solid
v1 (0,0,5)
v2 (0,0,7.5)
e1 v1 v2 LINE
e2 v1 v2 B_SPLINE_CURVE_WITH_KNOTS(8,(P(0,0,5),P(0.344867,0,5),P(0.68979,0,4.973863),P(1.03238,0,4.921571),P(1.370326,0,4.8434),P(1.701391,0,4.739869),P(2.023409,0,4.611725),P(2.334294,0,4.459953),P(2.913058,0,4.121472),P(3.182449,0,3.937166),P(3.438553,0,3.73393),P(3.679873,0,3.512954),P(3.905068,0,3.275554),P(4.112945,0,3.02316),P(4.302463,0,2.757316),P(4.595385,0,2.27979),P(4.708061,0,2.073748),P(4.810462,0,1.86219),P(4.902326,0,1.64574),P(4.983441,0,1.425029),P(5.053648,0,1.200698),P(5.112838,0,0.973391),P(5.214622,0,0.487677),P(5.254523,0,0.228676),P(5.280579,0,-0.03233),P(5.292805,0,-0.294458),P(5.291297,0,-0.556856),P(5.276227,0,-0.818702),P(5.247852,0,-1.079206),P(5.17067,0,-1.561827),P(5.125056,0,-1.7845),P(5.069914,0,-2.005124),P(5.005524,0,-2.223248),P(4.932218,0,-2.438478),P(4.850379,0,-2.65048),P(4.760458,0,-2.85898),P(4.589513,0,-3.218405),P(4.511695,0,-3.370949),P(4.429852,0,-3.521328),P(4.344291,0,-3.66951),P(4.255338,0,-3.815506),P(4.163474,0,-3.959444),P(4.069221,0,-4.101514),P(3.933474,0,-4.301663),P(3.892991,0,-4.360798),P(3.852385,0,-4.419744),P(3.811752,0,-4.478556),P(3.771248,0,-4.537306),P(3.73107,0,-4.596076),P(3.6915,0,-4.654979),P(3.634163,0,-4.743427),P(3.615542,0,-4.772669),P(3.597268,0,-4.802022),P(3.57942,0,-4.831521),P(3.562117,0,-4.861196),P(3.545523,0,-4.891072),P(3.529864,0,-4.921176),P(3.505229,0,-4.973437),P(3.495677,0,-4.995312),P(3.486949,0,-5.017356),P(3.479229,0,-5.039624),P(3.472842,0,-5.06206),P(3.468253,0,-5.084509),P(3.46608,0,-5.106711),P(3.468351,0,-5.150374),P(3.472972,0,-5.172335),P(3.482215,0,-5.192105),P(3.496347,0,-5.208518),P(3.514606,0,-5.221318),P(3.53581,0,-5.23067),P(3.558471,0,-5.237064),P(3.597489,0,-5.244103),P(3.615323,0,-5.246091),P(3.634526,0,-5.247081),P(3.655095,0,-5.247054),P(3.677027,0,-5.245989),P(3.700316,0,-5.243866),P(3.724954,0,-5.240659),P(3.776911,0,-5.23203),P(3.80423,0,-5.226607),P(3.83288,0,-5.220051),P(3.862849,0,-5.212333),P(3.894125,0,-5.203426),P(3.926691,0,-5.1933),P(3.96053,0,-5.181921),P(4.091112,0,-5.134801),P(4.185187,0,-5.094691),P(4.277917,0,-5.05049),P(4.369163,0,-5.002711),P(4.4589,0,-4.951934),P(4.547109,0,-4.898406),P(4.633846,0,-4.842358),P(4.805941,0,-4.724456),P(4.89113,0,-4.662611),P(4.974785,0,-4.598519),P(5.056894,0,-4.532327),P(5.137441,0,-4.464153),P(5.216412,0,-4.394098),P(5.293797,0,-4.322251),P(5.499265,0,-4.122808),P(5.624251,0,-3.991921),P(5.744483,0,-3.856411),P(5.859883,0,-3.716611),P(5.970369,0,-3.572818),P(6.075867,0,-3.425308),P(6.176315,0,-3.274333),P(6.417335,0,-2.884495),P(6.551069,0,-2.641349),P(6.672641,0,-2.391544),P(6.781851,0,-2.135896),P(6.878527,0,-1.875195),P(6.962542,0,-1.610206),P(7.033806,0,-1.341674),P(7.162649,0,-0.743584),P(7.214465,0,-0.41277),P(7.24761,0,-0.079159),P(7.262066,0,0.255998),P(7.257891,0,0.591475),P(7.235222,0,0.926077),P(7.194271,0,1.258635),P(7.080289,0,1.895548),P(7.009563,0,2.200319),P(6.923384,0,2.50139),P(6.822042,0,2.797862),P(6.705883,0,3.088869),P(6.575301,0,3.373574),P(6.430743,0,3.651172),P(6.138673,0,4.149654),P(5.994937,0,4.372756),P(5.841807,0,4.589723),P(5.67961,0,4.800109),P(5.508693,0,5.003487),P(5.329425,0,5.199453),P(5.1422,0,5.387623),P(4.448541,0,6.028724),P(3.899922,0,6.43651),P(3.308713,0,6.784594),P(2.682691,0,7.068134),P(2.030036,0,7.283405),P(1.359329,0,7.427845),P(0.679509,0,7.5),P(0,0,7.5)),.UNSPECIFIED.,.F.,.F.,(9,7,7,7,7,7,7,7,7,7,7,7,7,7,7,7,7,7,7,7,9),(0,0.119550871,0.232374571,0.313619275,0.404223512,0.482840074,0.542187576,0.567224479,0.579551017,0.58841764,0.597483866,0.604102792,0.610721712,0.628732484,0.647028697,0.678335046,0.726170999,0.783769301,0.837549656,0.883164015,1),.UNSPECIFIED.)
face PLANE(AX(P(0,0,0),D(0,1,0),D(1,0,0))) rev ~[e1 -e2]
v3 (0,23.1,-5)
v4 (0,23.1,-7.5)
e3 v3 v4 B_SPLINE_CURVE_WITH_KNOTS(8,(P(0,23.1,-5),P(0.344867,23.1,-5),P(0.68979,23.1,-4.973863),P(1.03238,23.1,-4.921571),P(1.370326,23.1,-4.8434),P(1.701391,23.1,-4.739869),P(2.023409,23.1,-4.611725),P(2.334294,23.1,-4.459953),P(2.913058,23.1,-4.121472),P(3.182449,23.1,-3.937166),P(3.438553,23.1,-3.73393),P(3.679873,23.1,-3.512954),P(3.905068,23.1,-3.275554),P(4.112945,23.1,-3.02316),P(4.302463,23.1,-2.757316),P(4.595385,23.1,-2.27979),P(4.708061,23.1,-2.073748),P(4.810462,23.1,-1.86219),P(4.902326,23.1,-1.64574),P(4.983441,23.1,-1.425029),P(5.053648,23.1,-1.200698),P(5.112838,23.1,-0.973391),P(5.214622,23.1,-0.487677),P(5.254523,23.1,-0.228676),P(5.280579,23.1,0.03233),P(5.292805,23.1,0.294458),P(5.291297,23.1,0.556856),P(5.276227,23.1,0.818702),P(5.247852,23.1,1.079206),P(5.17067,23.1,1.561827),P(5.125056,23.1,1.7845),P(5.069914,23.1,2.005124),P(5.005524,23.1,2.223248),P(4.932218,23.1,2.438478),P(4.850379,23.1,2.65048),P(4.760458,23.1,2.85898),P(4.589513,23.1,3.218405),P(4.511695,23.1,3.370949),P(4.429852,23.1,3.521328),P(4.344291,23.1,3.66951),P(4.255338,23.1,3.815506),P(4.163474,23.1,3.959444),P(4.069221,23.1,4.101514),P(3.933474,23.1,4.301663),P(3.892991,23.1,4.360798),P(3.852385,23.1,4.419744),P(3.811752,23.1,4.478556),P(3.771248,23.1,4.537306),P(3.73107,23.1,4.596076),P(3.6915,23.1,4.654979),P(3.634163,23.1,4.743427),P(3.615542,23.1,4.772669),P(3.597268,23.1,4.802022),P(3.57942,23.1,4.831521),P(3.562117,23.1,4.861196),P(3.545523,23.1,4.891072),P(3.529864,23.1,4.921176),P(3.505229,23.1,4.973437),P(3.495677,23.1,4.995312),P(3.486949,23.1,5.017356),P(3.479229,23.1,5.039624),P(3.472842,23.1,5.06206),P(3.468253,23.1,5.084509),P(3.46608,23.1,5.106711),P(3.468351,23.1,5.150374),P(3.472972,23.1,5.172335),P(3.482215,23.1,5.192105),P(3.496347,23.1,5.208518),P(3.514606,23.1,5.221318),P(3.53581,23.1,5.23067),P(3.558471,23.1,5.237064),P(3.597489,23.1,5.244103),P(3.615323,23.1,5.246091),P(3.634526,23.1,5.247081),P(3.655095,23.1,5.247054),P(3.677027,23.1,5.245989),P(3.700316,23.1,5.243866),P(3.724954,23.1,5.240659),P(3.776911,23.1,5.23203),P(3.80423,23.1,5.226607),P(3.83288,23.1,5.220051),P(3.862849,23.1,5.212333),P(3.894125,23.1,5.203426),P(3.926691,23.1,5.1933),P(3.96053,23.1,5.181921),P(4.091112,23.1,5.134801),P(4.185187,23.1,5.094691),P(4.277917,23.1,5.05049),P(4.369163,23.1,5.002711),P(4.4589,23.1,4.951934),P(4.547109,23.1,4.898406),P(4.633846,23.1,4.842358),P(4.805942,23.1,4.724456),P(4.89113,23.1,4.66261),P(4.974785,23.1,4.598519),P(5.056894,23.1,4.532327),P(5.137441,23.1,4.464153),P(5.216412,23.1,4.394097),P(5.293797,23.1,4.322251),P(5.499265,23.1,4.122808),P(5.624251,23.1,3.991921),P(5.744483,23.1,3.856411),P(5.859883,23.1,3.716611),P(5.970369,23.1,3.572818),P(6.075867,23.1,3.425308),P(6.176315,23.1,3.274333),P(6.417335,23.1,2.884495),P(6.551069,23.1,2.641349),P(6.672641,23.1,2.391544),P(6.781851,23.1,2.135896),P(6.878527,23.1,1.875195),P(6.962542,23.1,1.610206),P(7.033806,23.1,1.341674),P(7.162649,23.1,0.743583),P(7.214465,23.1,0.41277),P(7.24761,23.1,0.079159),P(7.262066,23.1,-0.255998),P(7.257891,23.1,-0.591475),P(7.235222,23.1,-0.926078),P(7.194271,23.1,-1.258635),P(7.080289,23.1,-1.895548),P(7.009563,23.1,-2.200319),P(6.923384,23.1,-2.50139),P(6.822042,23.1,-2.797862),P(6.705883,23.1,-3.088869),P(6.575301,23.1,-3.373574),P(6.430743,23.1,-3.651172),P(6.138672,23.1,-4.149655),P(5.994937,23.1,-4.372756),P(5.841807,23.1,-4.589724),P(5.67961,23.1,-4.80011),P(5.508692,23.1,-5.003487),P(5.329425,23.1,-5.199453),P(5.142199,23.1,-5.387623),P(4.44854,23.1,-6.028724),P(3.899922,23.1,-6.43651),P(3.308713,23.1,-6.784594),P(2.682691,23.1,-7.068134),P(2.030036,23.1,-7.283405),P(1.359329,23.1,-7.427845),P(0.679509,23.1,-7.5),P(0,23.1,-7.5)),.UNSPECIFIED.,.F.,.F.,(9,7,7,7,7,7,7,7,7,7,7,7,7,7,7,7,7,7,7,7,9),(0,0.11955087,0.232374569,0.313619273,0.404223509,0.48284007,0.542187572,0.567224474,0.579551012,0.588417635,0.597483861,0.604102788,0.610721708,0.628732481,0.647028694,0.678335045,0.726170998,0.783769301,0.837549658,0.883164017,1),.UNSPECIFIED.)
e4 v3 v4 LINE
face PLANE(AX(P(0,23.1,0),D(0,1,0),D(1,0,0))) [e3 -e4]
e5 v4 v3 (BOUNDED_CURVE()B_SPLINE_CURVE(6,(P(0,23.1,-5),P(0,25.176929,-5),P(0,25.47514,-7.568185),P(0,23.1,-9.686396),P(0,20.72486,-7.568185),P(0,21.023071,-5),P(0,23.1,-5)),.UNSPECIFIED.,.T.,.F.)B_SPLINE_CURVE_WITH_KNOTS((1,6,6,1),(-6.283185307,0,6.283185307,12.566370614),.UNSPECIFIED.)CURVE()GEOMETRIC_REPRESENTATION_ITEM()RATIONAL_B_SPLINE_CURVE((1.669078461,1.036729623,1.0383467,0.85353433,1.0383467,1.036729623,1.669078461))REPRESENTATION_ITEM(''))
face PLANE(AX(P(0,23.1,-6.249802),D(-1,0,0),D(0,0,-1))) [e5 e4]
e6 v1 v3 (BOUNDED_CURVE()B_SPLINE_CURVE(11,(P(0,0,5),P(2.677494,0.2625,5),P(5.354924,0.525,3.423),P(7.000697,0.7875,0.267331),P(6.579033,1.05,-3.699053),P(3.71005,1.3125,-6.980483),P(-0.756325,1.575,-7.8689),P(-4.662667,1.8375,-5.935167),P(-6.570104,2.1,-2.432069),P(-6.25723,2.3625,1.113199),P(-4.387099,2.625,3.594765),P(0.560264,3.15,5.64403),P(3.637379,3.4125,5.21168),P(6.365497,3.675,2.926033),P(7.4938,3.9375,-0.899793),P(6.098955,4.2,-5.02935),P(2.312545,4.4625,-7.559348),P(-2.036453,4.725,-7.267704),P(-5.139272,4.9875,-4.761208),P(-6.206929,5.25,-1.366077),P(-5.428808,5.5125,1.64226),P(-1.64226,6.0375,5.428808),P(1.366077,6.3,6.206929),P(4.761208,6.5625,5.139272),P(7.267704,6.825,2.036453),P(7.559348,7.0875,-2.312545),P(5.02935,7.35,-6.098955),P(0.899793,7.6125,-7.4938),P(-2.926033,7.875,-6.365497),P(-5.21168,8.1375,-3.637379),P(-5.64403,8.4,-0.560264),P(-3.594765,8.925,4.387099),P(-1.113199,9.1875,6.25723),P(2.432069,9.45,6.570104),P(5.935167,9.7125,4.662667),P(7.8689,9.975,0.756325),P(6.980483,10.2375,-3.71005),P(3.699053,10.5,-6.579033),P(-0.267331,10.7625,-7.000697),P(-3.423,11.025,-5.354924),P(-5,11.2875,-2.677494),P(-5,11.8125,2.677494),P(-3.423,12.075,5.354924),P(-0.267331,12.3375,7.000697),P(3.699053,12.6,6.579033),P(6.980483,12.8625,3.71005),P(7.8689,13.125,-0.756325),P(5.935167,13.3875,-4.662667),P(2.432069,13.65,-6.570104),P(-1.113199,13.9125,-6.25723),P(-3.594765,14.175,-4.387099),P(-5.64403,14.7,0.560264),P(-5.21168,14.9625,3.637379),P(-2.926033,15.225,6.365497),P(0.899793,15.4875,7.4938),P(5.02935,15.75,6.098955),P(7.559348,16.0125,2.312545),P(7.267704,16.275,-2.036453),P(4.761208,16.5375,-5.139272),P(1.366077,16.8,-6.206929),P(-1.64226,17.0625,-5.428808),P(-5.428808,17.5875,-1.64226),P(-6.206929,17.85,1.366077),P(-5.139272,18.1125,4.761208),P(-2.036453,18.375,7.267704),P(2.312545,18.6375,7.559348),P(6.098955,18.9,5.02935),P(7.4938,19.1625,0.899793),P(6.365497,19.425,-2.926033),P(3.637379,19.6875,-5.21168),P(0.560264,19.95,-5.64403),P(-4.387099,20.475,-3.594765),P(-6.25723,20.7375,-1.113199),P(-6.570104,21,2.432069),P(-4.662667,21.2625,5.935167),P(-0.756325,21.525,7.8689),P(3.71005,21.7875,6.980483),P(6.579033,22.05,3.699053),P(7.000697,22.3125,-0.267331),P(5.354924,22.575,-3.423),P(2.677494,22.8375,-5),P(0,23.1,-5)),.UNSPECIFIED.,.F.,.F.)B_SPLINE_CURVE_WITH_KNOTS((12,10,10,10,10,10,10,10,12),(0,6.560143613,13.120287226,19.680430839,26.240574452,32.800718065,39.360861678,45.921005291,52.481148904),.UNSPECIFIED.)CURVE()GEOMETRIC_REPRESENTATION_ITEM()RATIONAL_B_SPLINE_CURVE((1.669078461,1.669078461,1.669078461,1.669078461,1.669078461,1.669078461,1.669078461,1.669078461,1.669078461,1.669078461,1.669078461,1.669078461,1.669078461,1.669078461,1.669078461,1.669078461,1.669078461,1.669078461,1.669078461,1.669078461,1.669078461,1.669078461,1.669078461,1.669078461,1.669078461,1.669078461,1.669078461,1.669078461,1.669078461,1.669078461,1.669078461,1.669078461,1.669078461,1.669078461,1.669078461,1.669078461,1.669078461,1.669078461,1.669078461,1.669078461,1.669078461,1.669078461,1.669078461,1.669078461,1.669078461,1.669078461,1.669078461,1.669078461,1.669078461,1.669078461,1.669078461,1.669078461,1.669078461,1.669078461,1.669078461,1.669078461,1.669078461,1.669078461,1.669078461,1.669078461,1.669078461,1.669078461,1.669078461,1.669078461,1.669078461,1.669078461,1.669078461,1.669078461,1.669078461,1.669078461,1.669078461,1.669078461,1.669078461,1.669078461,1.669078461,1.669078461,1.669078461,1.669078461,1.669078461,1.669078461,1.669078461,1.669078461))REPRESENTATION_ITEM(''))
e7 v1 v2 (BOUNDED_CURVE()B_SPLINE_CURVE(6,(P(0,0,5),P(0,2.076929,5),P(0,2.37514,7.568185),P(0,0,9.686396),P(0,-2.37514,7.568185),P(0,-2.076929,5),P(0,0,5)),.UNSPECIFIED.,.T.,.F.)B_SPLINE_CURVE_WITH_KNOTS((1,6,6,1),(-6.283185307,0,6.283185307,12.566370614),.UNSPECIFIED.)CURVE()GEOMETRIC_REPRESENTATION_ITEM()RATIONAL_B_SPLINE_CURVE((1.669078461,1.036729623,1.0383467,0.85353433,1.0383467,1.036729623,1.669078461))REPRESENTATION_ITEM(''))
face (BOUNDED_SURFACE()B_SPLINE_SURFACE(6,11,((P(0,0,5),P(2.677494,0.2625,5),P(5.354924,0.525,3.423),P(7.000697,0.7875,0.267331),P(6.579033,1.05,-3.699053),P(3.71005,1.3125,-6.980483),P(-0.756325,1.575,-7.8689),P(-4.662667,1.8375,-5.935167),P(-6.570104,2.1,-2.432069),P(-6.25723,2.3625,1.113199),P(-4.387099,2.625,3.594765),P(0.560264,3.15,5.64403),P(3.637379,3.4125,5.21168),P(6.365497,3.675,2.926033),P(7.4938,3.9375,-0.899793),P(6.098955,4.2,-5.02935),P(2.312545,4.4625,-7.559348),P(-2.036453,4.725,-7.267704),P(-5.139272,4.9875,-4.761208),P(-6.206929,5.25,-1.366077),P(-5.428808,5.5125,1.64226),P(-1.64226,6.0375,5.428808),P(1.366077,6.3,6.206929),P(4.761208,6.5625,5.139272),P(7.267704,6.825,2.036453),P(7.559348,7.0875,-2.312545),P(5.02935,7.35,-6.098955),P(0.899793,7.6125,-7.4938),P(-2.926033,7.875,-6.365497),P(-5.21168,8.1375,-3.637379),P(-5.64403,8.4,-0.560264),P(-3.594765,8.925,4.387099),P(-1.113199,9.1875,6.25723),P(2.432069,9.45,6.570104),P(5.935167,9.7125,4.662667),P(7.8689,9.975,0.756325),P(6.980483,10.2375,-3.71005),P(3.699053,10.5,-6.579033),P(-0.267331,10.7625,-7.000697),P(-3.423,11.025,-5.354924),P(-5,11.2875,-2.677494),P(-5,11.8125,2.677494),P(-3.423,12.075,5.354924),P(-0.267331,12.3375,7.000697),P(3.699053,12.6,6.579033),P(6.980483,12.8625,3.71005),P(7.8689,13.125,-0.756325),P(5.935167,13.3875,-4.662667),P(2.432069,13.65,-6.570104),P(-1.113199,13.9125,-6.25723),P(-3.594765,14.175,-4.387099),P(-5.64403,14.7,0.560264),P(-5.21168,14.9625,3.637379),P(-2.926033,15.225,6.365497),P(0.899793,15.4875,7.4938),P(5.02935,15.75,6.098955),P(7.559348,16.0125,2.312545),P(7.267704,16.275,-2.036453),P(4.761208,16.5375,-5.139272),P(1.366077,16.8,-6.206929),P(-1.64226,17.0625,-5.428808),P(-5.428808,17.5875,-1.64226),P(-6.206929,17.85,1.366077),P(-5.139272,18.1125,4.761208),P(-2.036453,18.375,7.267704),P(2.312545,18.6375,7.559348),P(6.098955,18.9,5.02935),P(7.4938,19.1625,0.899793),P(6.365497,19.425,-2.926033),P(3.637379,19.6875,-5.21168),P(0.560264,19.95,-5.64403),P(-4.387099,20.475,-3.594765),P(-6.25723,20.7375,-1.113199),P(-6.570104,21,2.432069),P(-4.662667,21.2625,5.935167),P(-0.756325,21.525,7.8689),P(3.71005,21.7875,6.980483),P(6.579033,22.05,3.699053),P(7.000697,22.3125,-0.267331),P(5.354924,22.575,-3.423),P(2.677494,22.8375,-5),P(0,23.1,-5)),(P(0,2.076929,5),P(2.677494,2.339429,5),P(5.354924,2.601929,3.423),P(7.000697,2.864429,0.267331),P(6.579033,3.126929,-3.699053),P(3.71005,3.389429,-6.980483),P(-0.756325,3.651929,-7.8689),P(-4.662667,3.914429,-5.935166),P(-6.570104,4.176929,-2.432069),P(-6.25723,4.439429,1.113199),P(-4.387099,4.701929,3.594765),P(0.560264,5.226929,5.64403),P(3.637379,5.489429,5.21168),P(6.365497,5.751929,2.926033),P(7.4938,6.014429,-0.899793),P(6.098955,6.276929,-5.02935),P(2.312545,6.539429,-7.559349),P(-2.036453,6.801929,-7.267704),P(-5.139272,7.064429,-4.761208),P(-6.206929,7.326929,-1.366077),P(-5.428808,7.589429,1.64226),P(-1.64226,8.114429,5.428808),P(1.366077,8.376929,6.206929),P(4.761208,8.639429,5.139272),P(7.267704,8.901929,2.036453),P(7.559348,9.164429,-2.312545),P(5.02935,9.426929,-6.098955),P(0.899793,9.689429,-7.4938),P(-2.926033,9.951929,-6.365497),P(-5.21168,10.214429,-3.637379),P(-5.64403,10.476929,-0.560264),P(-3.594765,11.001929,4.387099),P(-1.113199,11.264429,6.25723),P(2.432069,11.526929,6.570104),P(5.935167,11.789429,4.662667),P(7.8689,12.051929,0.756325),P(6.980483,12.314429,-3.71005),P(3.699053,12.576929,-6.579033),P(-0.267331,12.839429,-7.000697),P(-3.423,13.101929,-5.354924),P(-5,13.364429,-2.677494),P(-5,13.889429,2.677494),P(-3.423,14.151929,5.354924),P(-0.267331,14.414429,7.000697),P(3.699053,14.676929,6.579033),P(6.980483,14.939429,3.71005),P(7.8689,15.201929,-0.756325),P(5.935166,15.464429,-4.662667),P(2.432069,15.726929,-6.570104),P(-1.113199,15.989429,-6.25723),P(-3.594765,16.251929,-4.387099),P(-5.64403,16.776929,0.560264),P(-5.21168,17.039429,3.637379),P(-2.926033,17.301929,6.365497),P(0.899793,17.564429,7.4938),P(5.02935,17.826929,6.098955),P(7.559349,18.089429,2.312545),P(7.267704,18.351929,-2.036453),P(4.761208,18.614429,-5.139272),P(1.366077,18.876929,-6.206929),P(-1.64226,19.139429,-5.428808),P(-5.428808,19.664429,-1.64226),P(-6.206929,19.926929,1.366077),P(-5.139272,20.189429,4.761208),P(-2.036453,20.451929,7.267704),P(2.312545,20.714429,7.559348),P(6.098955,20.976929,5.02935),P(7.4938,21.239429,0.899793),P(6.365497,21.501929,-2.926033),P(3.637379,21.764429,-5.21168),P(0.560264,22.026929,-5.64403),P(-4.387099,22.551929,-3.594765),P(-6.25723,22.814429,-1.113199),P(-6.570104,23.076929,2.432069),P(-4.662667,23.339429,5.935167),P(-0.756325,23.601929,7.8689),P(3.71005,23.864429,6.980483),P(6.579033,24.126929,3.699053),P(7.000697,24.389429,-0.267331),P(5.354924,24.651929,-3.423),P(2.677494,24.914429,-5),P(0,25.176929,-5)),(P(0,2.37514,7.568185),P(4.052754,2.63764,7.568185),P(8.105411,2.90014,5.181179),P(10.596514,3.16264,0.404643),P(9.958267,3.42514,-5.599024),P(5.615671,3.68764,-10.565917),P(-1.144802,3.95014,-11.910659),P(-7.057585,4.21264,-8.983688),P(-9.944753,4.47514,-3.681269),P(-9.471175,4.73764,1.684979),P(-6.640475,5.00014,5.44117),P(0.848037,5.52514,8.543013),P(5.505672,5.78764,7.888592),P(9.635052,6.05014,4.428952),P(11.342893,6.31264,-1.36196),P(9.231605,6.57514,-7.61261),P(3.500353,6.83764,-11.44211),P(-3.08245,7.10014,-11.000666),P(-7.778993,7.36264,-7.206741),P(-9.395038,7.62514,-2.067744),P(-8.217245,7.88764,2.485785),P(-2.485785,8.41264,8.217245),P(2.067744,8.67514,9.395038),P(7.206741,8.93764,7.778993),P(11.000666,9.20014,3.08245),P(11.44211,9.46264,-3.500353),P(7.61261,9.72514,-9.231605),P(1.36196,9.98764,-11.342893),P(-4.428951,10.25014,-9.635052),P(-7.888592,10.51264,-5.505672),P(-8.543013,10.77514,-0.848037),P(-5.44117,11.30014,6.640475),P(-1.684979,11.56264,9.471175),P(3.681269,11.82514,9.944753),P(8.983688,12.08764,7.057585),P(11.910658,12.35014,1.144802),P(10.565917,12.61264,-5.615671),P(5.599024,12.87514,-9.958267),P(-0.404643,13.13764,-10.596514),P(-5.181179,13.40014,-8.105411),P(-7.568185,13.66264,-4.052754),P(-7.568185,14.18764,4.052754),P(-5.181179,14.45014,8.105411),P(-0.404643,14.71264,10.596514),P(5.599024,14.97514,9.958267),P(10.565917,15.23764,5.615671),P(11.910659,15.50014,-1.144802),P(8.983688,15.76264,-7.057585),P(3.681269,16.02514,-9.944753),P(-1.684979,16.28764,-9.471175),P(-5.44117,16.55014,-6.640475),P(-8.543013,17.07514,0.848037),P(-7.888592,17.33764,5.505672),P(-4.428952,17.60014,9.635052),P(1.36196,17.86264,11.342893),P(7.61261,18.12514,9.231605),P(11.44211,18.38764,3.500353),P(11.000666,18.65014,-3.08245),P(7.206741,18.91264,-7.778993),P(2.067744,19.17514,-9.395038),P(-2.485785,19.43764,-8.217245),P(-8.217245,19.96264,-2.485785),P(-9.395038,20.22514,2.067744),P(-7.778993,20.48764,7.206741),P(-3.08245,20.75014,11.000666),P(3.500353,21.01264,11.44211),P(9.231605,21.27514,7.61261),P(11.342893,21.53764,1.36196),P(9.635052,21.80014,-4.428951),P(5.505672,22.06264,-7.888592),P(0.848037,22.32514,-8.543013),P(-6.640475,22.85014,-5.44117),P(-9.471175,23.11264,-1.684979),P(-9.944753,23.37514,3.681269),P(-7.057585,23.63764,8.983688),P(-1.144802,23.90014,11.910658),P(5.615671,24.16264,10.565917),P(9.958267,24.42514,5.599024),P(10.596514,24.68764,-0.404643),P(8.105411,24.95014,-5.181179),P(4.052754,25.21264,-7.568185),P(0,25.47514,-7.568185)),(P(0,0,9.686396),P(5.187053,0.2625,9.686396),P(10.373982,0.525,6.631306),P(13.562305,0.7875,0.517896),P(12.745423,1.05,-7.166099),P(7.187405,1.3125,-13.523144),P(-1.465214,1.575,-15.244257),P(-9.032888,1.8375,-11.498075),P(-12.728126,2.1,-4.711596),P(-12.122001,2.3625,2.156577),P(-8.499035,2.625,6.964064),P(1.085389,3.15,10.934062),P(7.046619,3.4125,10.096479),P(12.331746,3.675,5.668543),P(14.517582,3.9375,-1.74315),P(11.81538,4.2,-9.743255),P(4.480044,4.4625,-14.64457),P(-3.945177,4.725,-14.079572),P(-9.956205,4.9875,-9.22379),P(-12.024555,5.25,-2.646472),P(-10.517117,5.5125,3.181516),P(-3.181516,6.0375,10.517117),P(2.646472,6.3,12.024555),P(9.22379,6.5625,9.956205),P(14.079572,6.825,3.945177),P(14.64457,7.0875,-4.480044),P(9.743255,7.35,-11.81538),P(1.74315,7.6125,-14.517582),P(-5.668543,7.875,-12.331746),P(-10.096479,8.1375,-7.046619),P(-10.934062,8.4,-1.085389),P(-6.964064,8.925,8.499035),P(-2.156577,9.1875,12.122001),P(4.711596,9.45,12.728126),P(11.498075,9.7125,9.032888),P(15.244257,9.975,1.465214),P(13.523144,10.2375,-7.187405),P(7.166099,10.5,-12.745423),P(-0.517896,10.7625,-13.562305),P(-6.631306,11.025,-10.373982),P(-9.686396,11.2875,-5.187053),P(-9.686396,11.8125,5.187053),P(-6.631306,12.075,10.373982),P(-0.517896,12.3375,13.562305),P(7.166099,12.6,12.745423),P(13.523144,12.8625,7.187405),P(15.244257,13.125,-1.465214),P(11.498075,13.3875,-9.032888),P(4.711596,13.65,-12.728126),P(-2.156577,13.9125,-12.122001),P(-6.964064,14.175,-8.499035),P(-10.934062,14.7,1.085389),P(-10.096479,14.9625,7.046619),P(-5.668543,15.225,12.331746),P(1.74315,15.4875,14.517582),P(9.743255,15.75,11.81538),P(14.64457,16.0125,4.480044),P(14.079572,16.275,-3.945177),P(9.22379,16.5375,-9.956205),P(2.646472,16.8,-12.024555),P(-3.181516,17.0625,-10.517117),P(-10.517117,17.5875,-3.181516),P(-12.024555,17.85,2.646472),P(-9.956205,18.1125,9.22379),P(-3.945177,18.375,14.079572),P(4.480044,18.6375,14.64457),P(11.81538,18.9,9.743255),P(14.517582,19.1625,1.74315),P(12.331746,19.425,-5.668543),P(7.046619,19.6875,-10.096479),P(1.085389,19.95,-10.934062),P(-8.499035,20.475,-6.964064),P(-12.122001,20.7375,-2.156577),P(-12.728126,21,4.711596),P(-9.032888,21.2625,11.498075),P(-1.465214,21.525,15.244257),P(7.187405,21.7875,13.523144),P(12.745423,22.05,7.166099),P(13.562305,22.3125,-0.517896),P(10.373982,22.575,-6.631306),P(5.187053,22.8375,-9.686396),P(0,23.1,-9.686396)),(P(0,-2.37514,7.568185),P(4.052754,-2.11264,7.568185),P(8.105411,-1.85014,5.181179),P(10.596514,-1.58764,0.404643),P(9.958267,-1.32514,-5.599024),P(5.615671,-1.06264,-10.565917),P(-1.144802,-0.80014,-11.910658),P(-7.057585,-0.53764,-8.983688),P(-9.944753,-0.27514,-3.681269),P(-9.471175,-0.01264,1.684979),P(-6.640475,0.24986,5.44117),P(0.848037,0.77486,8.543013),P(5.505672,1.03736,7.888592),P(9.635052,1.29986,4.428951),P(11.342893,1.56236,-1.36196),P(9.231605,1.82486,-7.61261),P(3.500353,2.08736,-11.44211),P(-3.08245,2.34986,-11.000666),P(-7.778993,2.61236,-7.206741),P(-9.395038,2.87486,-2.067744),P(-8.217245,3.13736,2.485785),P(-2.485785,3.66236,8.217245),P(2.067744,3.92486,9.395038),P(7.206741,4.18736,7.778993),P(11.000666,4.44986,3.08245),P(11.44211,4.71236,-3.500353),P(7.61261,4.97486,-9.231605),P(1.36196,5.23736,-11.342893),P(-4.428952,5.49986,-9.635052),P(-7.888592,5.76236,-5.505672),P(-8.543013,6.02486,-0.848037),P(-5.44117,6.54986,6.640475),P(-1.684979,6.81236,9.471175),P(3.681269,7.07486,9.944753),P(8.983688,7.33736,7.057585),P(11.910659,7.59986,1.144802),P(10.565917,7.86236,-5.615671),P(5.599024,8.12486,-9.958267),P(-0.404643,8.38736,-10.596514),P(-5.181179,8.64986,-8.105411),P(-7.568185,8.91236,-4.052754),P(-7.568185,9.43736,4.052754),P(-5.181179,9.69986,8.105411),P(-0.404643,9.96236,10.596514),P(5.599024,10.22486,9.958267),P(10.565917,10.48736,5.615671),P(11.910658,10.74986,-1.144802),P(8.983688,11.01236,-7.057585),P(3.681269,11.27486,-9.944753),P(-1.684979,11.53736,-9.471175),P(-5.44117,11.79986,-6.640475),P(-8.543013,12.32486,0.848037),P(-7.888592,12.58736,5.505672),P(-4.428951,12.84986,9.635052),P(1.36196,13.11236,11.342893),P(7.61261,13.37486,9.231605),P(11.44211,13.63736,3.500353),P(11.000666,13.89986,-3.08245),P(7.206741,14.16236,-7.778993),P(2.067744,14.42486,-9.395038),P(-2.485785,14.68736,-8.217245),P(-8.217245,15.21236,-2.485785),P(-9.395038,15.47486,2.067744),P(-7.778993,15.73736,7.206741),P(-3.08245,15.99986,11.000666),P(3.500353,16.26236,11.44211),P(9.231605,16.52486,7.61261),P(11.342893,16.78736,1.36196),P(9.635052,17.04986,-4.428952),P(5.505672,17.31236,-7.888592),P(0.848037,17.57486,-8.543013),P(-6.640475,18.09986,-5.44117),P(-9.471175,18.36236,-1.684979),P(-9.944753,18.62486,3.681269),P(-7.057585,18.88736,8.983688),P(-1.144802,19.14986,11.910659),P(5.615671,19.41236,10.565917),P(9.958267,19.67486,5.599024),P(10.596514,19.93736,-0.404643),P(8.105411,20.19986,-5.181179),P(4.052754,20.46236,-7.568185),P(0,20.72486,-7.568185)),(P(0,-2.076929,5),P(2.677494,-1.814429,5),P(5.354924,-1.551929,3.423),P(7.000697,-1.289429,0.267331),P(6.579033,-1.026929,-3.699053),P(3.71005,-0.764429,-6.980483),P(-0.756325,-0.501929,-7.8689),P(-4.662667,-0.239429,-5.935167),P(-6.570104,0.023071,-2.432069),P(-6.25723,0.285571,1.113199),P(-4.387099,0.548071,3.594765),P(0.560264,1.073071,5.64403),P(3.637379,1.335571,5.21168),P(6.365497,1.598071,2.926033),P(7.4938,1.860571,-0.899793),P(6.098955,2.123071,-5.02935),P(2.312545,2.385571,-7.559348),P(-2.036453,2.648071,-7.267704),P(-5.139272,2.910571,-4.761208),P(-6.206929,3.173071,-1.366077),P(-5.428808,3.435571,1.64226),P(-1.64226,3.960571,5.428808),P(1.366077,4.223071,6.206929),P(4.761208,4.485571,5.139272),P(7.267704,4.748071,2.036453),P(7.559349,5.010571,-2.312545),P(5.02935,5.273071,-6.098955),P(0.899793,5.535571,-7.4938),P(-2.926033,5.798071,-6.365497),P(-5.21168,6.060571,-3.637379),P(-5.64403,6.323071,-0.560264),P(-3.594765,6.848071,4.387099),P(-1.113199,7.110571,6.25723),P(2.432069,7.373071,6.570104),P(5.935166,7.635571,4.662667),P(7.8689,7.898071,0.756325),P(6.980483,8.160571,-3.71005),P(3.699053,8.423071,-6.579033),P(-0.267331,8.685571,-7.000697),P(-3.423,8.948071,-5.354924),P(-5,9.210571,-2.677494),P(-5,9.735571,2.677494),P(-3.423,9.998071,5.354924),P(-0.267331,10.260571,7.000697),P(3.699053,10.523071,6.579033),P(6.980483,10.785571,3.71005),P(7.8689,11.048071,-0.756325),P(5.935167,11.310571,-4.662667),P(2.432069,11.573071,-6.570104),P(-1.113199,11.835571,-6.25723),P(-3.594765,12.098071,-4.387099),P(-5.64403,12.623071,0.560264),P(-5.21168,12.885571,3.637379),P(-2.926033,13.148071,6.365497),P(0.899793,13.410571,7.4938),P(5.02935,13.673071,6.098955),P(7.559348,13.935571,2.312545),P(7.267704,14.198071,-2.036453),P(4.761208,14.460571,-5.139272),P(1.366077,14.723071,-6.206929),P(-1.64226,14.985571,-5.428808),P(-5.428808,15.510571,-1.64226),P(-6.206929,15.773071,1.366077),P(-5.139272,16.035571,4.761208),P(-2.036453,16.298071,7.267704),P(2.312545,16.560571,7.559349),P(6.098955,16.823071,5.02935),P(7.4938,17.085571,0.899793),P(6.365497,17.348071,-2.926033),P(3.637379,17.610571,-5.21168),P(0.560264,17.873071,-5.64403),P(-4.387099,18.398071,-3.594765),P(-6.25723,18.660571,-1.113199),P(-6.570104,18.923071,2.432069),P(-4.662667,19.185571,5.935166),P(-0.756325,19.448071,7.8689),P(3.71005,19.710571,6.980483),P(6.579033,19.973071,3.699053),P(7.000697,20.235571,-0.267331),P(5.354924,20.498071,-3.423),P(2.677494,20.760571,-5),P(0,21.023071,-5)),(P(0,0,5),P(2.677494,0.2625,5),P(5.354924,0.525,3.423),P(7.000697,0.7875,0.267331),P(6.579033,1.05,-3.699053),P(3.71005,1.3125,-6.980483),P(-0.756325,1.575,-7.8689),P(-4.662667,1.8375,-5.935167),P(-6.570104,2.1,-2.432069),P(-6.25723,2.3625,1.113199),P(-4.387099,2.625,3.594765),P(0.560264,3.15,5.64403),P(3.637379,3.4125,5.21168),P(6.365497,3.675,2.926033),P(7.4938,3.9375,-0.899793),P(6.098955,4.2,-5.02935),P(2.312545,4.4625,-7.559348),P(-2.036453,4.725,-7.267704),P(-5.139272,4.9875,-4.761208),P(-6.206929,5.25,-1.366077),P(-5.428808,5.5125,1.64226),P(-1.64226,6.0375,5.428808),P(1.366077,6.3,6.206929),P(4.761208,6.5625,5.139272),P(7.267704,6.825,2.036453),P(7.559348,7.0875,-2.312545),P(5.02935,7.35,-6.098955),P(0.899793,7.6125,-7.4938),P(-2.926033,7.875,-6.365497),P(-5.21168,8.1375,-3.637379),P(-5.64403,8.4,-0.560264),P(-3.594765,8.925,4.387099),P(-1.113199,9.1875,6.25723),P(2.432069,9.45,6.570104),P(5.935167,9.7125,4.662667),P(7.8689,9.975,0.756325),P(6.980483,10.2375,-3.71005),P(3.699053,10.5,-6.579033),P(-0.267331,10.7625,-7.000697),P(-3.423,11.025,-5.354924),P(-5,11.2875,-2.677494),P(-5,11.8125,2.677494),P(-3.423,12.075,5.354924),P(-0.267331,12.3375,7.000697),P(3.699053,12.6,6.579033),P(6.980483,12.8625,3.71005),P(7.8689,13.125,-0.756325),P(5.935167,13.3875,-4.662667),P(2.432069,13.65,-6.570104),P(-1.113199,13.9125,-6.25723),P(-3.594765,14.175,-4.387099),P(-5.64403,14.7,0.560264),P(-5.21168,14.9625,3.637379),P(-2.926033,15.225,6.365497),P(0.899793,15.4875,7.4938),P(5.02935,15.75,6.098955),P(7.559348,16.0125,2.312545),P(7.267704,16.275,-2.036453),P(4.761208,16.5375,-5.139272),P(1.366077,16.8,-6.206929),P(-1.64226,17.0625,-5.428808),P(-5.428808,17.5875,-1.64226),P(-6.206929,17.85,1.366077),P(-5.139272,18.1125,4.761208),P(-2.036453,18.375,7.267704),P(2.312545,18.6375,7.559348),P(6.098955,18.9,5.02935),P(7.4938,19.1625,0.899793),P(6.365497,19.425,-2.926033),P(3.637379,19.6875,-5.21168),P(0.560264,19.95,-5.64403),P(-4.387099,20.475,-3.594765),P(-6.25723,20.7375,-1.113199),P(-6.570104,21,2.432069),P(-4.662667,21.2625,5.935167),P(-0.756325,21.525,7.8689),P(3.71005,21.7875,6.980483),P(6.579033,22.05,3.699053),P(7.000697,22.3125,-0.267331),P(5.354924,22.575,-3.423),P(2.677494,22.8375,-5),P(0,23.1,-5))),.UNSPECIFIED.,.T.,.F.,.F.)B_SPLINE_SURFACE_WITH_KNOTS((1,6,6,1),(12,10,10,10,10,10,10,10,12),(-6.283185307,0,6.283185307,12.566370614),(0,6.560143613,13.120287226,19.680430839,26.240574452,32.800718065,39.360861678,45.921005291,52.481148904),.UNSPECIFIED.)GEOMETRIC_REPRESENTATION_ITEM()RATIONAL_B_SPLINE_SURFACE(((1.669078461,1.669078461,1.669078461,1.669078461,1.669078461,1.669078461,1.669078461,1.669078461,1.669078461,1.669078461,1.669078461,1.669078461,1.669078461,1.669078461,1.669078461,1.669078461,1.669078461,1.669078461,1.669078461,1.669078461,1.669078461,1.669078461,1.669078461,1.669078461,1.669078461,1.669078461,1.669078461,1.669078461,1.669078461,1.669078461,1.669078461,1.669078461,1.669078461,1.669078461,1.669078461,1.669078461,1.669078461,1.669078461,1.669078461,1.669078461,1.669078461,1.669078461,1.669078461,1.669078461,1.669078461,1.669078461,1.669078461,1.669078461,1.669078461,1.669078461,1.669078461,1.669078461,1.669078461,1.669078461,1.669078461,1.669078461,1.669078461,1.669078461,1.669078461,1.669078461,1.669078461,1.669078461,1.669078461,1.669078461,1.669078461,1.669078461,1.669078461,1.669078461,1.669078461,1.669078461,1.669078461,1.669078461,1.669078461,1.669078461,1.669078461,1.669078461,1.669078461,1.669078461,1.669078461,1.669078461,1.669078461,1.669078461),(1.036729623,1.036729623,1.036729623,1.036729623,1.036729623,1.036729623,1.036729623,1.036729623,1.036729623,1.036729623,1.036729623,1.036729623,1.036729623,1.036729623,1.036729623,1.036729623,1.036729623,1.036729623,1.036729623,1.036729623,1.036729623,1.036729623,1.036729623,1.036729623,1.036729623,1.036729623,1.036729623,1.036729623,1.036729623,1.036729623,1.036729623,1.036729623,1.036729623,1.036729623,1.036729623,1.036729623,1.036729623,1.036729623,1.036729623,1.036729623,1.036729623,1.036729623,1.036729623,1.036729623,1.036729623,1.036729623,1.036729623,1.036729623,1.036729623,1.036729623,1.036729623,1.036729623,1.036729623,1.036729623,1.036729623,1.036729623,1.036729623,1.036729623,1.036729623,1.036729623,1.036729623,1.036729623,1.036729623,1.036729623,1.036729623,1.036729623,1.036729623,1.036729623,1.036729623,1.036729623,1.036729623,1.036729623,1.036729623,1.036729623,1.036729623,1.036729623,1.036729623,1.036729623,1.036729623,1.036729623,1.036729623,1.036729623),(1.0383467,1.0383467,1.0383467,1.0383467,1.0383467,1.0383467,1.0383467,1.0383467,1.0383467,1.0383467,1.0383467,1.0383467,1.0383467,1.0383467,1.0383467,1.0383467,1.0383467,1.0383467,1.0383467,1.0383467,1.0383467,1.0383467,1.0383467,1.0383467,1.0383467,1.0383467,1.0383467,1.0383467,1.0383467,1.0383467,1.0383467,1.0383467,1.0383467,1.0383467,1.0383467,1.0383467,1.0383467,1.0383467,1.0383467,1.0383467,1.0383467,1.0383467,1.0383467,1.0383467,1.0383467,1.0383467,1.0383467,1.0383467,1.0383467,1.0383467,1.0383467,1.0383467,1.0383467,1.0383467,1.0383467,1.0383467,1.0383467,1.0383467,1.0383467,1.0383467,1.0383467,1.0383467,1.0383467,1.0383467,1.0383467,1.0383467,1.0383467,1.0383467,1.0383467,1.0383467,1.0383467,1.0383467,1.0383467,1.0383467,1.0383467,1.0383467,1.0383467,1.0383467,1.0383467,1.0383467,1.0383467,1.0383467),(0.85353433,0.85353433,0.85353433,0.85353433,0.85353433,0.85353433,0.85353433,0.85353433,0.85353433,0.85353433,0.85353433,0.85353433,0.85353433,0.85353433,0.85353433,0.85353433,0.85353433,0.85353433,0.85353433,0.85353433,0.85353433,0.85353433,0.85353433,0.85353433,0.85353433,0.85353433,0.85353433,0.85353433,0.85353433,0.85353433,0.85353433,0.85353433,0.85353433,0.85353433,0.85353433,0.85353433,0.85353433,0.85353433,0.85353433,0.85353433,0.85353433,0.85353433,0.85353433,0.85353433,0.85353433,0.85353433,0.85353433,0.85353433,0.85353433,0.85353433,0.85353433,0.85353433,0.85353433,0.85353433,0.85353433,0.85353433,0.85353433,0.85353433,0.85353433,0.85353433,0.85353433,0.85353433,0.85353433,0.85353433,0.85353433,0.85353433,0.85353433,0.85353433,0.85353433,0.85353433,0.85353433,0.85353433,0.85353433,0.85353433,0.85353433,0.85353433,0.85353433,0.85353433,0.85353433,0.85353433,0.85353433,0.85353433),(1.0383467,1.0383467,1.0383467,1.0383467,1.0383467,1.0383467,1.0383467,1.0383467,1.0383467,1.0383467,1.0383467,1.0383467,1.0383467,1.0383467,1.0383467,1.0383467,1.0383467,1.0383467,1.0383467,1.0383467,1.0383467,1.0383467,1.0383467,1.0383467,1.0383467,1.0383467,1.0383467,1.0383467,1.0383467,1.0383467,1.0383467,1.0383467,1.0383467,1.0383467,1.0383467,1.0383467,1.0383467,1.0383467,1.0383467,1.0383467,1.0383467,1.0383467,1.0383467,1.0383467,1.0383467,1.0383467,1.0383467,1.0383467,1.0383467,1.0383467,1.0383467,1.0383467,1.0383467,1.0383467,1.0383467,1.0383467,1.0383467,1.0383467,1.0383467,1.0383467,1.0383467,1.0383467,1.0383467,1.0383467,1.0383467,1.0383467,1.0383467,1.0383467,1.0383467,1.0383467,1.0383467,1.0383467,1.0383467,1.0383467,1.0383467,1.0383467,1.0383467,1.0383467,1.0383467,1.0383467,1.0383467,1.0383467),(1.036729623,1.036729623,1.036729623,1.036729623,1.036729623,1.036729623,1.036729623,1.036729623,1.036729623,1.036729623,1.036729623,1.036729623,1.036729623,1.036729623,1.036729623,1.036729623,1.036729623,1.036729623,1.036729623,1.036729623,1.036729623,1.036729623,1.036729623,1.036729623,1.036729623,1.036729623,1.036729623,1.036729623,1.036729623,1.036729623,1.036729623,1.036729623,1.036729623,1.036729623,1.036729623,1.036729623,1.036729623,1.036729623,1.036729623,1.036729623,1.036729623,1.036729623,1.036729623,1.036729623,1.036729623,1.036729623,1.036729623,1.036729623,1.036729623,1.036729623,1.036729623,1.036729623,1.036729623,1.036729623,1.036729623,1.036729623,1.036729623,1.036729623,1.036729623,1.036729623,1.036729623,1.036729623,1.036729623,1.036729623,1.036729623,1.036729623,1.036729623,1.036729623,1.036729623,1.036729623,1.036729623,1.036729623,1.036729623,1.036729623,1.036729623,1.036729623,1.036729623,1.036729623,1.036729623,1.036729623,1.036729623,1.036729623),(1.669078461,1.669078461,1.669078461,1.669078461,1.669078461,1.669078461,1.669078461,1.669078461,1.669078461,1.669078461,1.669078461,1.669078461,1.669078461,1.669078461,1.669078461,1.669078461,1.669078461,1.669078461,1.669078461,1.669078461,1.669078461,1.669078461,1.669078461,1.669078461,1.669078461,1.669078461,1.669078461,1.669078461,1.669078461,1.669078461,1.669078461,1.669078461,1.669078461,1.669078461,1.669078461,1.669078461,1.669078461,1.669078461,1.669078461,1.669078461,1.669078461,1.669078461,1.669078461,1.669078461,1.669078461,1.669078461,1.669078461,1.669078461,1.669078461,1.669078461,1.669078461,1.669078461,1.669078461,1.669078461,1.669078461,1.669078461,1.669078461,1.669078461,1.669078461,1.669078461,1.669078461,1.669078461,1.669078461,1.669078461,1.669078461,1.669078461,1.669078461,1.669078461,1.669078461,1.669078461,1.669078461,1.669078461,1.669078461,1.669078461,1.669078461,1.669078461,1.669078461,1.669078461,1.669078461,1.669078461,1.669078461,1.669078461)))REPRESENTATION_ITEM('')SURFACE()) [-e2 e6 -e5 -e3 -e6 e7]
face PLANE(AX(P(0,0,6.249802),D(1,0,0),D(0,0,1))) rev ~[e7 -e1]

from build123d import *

# Parameters (mm, degrees)
SWEEP_1_PITCH  = 3.08
SWEEP_1_HEIGHT = 23.1
SWEEP_1_RADIUS = 7.5
SKETCH_2_R     = 1.25


with BuildPart() as part:
    # По траектории1: sweep along a helix
    with BuildLine() as sweep_1_path:
        Helix(SWEEP_1_PITCH, SWEEP_1_HEIGHT, SWEEP_1_RADIUS, center=(0, 0, 0), direction=(0, 1, 0))
    # Эскиз2 → По траектории1 (sweep)
    with BuildSketch(Plane(origin=(0, 0, 0), x_dir=(0, 0, -1), z_dir=(1, 0, 0))):
        with Locations((-6.25, 0)):
            Circle(SKETCH_2_R)
    sweep(path=sweep_1_path.line, is_frenet=True)

    # Surface Cut 1
    split(bisect_by=Plane(origin=(0, 0, 0), x_dir=(1, 0, 0), z_dir=(0, 1, 0)), keep=Keep.TOP)

    # Surface Cut 2
    split(bisect_by=Plane(origin=(0, 23.1, 0), x_dir=(1, 0, 0), z_dir=(0, 1, 0)), keep=Keep.BOTTOM)


solid = part.part
